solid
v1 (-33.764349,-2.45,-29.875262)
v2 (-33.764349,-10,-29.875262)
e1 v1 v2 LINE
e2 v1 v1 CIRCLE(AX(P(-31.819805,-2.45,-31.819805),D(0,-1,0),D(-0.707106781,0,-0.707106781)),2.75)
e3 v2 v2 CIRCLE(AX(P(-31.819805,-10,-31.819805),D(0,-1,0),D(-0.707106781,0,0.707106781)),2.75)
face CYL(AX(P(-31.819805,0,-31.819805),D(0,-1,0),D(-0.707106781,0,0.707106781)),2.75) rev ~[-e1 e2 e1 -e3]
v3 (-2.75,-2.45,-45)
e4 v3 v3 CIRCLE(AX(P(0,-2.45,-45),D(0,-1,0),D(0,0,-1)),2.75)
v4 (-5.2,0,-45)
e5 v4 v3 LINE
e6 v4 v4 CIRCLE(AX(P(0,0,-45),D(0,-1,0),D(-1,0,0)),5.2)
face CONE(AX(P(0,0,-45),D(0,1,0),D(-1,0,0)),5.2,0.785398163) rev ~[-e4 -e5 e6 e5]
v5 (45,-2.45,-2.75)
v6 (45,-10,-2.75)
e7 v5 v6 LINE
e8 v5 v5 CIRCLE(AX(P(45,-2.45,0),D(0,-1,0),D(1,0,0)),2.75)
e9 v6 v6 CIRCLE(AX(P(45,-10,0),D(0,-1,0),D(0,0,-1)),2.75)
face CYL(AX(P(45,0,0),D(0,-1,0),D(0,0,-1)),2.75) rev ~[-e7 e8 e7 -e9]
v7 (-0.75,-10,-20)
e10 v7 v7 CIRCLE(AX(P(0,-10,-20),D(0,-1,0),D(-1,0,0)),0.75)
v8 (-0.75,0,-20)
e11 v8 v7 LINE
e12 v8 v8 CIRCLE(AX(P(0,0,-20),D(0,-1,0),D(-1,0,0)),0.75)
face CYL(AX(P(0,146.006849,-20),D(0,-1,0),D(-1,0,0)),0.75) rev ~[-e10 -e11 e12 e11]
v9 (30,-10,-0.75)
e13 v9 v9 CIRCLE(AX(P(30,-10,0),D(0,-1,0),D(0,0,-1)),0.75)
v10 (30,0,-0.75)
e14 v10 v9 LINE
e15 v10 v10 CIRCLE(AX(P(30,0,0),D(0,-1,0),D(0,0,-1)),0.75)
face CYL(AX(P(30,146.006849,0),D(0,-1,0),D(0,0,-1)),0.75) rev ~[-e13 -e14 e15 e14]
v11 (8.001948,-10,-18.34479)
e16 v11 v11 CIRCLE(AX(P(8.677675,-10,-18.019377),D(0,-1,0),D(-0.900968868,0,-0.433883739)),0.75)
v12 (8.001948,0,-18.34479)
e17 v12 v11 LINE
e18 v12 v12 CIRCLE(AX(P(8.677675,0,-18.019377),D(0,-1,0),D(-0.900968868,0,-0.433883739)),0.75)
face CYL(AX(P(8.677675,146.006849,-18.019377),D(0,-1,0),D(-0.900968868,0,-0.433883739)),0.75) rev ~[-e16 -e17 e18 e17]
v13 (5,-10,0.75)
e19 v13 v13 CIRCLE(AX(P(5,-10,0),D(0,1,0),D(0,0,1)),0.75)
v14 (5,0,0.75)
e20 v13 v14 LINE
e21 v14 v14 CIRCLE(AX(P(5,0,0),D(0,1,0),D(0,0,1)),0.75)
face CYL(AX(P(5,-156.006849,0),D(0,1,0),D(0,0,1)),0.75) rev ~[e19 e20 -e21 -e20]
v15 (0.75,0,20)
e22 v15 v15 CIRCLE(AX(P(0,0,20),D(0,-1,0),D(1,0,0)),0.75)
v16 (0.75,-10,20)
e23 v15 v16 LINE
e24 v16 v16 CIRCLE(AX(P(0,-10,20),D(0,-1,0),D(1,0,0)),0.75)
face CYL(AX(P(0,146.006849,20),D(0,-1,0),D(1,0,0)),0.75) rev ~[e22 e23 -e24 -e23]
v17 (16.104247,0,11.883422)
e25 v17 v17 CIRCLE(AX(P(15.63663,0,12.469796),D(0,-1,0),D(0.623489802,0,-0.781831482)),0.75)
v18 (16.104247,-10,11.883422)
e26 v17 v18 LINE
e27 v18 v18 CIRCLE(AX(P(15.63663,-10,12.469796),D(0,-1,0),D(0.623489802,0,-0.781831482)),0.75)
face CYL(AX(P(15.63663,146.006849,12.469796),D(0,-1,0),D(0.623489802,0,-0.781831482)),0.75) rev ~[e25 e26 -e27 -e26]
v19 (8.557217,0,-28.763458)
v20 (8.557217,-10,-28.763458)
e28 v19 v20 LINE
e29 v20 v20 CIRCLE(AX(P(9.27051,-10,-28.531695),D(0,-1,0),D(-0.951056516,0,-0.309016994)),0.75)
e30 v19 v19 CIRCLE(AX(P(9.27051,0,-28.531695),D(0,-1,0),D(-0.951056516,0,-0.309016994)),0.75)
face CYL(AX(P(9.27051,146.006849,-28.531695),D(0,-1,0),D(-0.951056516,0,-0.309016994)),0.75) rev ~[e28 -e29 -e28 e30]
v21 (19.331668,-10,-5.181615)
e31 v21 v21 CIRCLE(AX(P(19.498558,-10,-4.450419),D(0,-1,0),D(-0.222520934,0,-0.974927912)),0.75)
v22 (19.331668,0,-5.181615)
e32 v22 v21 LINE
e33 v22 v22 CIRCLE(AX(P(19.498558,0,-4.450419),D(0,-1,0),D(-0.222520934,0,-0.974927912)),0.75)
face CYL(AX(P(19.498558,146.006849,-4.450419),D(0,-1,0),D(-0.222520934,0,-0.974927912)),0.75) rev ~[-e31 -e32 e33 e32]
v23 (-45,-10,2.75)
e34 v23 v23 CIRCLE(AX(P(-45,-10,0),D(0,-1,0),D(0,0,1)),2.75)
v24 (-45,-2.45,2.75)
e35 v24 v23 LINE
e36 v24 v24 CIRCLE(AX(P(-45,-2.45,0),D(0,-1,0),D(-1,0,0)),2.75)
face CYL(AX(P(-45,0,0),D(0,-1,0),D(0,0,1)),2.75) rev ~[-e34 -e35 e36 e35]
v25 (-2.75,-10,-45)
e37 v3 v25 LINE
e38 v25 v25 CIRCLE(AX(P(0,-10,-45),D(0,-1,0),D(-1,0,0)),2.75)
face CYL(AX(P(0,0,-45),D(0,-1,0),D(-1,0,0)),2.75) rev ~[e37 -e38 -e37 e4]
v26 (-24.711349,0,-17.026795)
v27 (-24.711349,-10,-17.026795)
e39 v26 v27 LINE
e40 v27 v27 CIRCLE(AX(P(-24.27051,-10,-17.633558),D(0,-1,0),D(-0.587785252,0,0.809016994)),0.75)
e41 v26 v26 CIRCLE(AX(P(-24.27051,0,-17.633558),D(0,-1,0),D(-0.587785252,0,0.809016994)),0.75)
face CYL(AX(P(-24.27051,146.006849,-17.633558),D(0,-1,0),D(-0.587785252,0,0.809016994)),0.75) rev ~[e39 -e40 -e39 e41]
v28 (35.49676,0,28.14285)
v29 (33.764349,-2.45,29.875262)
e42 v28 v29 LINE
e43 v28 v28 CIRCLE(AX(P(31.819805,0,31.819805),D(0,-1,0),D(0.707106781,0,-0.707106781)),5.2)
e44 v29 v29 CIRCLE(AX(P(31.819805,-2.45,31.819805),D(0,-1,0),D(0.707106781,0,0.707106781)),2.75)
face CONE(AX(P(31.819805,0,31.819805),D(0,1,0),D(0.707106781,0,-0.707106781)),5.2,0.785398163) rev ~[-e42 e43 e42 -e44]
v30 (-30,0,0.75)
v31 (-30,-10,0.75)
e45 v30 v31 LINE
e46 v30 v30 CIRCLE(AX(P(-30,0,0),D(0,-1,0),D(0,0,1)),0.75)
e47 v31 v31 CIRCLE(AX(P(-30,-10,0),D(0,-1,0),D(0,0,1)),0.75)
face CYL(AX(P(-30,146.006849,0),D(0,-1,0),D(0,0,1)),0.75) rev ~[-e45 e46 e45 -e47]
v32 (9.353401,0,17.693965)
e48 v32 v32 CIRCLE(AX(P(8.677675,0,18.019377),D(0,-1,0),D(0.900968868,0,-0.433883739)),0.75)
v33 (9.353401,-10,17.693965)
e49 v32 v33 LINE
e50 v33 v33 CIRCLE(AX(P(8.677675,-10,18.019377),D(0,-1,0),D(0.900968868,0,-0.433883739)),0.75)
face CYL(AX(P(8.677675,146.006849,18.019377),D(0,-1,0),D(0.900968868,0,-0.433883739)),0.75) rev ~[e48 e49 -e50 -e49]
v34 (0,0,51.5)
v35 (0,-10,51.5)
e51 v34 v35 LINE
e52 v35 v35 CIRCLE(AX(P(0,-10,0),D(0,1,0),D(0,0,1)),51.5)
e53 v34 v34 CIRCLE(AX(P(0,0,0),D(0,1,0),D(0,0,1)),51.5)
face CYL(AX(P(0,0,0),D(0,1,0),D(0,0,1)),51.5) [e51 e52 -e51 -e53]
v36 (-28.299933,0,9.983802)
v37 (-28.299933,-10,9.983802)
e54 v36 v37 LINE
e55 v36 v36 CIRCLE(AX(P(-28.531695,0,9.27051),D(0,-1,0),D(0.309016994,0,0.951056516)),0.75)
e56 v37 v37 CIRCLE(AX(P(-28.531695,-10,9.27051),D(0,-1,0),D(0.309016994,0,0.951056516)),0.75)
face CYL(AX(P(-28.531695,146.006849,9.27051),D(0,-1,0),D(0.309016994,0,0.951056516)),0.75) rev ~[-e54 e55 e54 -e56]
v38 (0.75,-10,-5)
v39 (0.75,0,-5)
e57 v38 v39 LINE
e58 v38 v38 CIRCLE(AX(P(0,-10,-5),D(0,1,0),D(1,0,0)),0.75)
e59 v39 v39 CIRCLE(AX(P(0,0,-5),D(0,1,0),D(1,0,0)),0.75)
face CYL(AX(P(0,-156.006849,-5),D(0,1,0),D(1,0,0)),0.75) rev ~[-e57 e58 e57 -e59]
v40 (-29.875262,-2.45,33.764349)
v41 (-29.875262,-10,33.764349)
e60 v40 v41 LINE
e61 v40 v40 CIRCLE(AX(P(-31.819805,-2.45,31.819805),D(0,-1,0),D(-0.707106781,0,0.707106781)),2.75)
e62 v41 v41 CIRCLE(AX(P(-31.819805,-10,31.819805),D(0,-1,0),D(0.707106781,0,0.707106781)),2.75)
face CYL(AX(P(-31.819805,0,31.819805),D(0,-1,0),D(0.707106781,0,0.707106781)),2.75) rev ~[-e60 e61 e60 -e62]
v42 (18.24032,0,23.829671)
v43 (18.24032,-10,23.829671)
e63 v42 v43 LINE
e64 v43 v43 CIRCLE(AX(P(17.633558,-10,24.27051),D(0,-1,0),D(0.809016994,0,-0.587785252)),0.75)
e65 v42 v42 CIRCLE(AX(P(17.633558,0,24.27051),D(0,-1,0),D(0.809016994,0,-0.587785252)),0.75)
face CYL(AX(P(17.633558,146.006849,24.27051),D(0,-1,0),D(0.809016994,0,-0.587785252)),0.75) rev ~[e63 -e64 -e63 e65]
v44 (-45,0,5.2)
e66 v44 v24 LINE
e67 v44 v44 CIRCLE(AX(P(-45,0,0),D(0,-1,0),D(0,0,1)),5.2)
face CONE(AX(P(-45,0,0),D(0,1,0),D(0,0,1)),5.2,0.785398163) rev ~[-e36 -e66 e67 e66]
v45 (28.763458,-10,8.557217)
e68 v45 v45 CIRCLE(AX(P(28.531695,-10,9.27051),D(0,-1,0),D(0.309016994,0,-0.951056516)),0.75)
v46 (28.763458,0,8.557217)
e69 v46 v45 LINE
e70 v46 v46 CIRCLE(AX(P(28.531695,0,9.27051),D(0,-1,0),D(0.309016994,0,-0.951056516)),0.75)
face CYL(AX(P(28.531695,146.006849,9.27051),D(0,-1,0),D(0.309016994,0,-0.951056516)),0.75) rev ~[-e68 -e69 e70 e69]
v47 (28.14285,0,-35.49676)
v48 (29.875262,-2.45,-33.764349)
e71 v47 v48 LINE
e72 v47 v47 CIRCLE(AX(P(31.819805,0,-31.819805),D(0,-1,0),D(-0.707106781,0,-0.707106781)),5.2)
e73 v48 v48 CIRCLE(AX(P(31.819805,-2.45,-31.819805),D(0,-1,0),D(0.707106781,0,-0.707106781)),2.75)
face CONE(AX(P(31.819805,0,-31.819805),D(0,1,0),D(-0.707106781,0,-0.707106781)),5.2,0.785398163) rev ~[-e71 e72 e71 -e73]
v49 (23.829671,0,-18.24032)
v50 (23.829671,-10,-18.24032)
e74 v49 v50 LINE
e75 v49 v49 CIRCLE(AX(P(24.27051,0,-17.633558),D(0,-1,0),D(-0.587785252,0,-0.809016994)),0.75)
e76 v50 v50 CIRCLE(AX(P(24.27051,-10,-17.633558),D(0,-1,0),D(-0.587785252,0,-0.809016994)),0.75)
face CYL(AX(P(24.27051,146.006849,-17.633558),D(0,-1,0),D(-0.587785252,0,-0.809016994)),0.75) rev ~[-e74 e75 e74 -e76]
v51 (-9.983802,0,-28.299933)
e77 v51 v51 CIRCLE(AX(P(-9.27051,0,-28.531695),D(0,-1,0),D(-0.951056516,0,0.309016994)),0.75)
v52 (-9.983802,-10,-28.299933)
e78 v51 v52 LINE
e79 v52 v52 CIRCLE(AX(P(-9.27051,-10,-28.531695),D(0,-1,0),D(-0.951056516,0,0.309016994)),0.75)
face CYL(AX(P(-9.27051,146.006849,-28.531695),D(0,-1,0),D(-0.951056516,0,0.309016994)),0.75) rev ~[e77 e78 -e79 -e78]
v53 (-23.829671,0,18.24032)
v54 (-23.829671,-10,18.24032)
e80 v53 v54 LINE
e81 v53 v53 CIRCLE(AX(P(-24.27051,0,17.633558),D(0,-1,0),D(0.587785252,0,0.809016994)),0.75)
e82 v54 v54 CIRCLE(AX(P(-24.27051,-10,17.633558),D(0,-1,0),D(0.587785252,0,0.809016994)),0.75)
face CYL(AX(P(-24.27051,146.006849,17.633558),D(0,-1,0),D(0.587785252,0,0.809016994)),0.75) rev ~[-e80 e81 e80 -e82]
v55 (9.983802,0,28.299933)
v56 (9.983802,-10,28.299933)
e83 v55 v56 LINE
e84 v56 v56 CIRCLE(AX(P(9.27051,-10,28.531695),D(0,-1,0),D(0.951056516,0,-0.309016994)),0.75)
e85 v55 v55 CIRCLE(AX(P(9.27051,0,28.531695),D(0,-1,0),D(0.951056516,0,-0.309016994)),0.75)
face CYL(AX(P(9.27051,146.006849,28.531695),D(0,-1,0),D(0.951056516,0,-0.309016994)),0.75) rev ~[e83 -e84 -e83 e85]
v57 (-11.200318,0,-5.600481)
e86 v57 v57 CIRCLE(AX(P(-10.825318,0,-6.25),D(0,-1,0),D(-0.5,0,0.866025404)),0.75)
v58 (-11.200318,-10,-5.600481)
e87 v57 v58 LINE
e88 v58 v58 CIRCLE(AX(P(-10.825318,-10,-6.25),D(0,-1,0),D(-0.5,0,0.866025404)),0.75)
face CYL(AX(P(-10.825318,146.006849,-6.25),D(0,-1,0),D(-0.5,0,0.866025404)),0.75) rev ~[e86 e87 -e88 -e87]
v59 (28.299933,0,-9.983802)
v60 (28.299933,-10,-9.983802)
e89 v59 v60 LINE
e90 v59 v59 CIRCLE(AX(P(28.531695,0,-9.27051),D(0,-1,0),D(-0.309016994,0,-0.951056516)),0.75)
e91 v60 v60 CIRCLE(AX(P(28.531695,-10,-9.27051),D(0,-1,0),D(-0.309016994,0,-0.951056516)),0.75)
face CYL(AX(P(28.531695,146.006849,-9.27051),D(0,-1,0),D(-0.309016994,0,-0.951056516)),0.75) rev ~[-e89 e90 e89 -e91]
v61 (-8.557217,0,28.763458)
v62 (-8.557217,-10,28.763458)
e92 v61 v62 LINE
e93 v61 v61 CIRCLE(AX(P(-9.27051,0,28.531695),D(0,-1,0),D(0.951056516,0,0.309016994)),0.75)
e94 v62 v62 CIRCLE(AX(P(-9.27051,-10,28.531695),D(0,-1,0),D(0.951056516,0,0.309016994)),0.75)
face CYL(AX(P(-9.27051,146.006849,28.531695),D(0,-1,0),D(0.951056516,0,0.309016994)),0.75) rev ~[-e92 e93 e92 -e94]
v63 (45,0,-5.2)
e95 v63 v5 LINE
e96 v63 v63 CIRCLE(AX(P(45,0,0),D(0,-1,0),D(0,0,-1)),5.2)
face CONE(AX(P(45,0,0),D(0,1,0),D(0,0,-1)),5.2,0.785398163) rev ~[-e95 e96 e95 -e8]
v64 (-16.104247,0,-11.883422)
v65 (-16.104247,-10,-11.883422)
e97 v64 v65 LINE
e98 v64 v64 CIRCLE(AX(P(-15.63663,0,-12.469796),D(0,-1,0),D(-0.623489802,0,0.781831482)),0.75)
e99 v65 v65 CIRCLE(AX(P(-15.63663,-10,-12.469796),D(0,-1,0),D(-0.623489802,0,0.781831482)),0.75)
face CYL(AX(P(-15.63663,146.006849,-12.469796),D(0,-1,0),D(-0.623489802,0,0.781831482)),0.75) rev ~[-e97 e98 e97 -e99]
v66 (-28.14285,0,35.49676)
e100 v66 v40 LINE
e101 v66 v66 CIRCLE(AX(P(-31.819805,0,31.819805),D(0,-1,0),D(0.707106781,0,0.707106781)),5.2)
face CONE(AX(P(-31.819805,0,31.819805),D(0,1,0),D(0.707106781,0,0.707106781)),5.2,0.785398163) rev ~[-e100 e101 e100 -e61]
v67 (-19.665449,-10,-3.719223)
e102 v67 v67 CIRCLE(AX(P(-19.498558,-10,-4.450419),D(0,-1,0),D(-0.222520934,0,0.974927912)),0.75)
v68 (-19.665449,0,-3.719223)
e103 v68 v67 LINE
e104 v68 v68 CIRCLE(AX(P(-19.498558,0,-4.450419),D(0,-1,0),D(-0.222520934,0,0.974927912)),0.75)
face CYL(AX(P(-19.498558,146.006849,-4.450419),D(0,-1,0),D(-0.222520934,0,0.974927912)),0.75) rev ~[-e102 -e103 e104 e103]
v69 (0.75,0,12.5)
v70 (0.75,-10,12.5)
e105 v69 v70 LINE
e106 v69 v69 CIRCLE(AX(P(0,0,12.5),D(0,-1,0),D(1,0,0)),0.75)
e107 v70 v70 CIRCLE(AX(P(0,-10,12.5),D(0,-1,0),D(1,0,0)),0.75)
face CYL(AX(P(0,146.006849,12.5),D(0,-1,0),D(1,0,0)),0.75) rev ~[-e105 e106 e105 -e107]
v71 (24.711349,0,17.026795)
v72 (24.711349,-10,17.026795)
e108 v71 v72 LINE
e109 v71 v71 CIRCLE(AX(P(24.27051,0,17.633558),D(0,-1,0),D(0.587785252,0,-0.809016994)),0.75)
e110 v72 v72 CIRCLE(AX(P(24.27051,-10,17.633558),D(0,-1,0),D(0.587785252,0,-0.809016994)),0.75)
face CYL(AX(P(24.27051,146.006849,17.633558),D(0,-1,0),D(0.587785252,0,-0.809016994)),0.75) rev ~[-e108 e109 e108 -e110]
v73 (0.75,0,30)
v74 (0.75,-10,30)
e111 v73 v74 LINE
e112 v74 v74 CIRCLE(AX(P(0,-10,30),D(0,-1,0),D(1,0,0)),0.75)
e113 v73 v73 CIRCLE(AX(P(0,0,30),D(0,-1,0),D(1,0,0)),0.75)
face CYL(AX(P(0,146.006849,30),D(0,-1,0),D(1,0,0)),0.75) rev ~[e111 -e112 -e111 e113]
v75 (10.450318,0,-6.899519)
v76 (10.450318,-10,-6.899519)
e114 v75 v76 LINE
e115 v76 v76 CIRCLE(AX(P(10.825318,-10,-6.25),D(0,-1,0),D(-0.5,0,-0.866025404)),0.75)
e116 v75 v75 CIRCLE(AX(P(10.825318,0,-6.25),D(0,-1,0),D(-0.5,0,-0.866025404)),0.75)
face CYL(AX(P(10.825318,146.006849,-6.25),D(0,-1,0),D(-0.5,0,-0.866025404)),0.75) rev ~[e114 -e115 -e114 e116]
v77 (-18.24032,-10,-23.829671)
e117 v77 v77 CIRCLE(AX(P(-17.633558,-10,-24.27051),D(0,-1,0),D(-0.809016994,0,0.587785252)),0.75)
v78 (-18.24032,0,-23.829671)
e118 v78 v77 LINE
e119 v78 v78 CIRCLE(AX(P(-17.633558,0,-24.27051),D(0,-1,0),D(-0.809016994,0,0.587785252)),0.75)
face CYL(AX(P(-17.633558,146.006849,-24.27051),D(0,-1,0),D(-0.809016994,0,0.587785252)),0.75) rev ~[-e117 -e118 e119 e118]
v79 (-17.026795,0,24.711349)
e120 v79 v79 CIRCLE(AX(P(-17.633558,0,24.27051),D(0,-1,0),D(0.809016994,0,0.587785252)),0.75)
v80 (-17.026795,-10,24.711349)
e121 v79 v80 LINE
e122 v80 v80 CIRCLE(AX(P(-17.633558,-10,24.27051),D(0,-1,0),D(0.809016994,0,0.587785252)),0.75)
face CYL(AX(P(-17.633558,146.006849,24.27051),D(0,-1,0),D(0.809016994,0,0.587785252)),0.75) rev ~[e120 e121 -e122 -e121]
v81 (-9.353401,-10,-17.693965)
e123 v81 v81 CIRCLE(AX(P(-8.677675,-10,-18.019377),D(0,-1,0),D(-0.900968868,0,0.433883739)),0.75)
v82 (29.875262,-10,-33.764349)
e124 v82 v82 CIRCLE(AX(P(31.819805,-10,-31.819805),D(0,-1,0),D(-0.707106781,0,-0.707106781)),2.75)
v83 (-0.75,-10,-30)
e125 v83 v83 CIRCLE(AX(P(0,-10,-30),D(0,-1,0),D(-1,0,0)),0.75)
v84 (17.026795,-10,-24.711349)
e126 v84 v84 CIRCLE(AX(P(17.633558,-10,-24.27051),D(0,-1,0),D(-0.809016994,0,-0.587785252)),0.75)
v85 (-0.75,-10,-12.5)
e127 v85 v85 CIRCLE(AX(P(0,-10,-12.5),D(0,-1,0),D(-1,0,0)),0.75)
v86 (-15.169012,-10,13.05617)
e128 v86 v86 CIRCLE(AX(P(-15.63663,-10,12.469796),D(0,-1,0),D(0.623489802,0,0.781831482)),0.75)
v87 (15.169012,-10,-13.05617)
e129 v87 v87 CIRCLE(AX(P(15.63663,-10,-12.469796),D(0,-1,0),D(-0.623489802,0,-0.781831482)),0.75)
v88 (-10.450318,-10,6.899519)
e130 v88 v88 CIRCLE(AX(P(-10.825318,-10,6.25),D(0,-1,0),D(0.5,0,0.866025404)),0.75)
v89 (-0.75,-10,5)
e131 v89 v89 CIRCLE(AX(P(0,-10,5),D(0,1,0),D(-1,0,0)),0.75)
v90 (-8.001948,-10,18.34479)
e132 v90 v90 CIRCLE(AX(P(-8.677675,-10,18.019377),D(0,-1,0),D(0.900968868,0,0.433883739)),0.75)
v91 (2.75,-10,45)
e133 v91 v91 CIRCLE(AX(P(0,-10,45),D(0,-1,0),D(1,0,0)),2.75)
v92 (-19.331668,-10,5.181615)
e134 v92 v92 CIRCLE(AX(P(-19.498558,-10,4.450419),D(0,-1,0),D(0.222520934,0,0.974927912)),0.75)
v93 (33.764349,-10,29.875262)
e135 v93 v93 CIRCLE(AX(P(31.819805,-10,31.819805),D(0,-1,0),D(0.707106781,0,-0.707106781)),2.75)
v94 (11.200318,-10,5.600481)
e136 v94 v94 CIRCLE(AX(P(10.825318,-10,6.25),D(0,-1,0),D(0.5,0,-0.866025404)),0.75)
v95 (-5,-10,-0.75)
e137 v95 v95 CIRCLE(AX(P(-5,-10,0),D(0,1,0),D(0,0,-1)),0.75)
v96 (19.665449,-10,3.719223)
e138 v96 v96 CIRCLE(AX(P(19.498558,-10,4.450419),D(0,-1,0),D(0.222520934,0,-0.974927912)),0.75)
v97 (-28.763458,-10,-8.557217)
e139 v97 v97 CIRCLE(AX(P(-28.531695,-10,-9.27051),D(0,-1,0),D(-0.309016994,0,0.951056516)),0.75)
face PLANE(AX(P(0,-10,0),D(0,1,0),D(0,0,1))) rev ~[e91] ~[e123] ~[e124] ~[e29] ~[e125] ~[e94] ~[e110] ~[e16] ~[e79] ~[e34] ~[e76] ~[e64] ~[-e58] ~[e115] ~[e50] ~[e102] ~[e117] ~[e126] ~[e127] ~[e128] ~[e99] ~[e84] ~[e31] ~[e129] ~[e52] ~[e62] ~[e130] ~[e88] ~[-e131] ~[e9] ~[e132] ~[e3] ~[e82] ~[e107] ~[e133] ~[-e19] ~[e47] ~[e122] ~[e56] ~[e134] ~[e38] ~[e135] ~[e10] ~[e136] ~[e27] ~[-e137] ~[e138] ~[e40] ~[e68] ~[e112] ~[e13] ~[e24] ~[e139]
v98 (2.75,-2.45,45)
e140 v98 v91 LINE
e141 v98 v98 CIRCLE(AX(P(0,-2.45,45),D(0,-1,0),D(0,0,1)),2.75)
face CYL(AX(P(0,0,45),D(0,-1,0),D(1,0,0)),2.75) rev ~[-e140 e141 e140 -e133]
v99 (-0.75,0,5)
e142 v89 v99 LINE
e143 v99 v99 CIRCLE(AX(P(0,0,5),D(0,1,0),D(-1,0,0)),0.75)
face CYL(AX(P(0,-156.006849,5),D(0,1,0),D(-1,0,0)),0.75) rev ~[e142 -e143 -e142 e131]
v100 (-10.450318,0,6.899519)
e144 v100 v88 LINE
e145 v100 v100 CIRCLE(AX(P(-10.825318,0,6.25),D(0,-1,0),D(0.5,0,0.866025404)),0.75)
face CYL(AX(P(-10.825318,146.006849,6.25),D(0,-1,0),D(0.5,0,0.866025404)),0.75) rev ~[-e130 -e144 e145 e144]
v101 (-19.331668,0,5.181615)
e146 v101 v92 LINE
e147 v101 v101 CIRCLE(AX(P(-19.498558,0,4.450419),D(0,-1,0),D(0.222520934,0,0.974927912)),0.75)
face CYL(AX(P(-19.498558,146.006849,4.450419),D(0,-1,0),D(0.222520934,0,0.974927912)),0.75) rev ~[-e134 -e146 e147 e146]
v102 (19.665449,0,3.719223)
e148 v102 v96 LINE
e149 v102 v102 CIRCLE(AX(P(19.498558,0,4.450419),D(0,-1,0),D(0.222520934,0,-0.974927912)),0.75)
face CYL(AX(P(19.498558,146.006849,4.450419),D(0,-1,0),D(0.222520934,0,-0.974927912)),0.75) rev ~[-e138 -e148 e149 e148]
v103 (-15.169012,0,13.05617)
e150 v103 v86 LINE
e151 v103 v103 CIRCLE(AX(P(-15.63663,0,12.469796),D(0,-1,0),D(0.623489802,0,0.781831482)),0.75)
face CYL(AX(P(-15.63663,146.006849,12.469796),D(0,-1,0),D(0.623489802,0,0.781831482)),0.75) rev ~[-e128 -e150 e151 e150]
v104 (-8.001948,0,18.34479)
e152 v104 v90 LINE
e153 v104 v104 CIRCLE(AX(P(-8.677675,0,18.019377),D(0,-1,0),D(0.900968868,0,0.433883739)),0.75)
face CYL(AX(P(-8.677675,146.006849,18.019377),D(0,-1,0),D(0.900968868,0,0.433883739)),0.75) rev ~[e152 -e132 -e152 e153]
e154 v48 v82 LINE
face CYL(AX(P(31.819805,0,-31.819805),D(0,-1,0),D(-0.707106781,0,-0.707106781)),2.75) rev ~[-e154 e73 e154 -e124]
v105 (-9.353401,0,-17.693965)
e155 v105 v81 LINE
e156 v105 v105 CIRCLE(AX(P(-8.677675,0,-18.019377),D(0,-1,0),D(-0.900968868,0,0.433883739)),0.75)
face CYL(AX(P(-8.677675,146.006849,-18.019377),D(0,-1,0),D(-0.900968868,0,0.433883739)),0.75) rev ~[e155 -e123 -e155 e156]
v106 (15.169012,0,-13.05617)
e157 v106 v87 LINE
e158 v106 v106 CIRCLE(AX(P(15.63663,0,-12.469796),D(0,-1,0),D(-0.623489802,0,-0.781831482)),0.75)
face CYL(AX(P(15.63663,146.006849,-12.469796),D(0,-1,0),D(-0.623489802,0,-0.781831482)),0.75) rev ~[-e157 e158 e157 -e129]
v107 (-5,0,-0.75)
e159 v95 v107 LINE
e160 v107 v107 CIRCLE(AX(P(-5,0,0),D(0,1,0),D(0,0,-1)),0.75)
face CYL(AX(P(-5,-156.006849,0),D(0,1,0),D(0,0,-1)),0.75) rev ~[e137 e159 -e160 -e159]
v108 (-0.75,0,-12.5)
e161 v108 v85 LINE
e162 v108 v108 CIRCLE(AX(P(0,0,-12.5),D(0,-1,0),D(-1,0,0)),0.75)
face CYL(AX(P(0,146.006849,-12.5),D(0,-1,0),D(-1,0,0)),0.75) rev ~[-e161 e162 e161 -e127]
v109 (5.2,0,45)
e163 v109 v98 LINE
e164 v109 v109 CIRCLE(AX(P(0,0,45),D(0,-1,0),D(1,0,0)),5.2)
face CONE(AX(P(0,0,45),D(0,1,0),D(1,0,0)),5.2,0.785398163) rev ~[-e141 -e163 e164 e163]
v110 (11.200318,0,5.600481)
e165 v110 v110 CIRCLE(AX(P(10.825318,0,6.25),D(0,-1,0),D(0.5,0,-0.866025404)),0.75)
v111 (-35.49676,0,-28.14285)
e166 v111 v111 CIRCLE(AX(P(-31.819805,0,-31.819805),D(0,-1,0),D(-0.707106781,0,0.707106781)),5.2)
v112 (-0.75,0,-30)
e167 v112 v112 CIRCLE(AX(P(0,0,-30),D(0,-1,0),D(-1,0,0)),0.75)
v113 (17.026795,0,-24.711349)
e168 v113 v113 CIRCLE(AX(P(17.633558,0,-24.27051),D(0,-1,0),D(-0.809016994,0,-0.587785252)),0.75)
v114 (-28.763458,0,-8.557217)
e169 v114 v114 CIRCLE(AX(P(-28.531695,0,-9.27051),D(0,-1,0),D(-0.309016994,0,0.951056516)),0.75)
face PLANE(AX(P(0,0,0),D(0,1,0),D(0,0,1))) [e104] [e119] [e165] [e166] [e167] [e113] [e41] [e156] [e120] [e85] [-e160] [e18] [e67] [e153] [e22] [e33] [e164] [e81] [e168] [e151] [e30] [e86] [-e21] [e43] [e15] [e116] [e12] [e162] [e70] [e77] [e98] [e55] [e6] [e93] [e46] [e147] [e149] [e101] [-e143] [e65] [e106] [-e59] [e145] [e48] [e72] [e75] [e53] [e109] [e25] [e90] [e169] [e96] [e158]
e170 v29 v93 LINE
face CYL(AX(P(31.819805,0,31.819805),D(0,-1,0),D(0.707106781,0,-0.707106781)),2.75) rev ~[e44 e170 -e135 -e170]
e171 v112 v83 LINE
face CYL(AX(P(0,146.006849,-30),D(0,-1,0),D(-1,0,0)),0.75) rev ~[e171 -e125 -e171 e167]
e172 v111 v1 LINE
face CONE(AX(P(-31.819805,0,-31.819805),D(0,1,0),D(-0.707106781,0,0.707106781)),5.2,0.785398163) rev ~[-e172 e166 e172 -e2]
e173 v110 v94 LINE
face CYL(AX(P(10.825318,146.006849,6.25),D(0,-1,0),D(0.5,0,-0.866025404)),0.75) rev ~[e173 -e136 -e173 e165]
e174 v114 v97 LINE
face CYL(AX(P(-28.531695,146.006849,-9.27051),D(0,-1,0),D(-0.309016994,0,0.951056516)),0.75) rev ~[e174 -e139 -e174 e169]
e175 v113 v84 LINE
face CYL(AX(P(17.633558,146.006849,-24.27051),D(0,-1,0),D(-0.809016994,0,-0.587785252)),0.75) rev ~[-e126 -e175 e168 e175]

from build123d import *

# Parameters (mm, degrees)
SKETCH1_R                                       = 51.5
BOSS_EXTRUDE1_DEPTH                             = 10
CSK_FOR_M5_FLAT_HEAD_MACHINE_SCREW1_D           = 5.5
CSK_FOR_M5_FLAT_HEAD_MACHINE_SCREW1_CSINK_D     = 10.4
CSK_FOR_M5_FLAT_HEAD_MACHINE_SCREW1_CSINK_ANGLE = 90
CIRPATTERN1_COUNT                               = 8
F_1_5_1_5_DIAMETER_HOLE9_D                      = 1.5
F_1_5_1_5_DIAMETER_HOLE4_D                      = 1.5
F_1_5_1_5_DIAMETER_HOLE5_D                      = 1.5
F_1_5_1_5_DIAMETER_HOLE8_D                      = 1.5
CIRPATTERN2_COUNT                               = 20
CIRPATTERN3_COUNT                               = 14
CIRPATTERN7_COUNT                               = 6
CIRPATTERN8_COUNT                               = 4


with BuildPart() as part:
    # Sketch1 → Boss-Extrude1 (new body)
    with BuildSketch(Plane(origin=(0, 0, 0), x_dir=(1, 0, 0), z_dir=(0, 1, 0))):
        Circle(SKETCH1_R)
    extrude(amount=-BOSS_EXTRUDE1_DEPTH)

    # CSK for M5 Flat Head Machine Screw1 (through all)
    with Locations(Plane(origin=(0, 0, 0), x_dir=(1, 0, 0), z_dir=(0, 1, 0))):
        with Locations((0, 45)):
            csk_for_m5_flat_head_machine_screw1 = CounterSinkHole(CSK_FOR_M5_FLAT_HEAD_MACHINE_SCREW1_D / 2, CSK_FOR_M5_FLAT_HEAD_MACHINE_SCREW1_CSINK_D / 2, counter_sink_angle=CSK_FOR_M5_FLAT_HEAD_MACHINE_SCREW1_CSINK_ANGLE)

    # CirPattern1: CSK for M5 Flat Head Machine Screw1 ×8 about axis
    cirpattern1_axis = Axis((0, -10, 0), (0, 1, 0))
    for i in range(1, CIRPATTERN1_COUNT):
        add(csk_for_m5_flat_head_machine_screw1.rotate(cirpattern1_axis, i * 360 / CIRPATTERN1_COUNT), mode=Mode.SUBTRACT)

    # Ø1.5 (1.5) Diameter Hole9 (through all)
    with Locations(Plane(origin=(0, -10, 0), x_dir=(-1, 0, 0), z_dir=(0, -1, 0))):
        with Locations((0, 5)):
            f_1_5_1_5_diameter_hole9 = Hole(F_1_5_1_5_DIAMETER_HOLE9_D / 2)

    # Ø1.5 (1.5) Diameter Hole4 (through all)
    with Locations(Plane(origin=(0, 0, 0), x_dir=(1, 0, 0), z_dir=(0, 1, 0))):
        with Locations((0, 20)):
            f_1_5_1_5_diameter_hole4 = Hole(F_1_5_1_5_DIAMETER_HOLE4_D / 2)

    # Ø1.5 (1.5) Diameter Hole5 (through all)
    with Locations(Plane(origin=(0, 0, 0), x_dir=(1, 0, 0), z_dir=(0, 1, 0))):
        with Locations((0, 30)):
            f_1_5_1_5_diameter_hole5 = Hole(F_1_5_1_5_DIAMETER_HOLE5_D / 2)

    # Ø1.5 (1.5) Diameter Hole8 (through all)
    with Locations(Plane(origin=(0, 0, 0), x_dir=(1, 0, 0), z_dir=(0, 1, 0))):
        with Locations((0, 12.5)):
            f_1_5_1_5_diameter_hole8 = Hole(F_1_5_1_5_DIAMETER_HOLE8_D / 2)

    # CirPattern2: Ø1.5 (1.5) Diameter Hole5 ×20 about axis
    cirpattern2_axis = Axis((0, -10, 0), (0, 1, 0))
    for i in range(1, CIRPATTERN2_COUNT):
        add(f_1_5_1_5_diameter_hole5.rotate(cirpattern2_axis, i * 360 / CIRPATTERN2_COUNT), mode=Mode.SUBTRACT)

    # CirPattern3: Ø1.5 (1.5) Diameter Hole4 ×14 about axis
    cirpattern3_axis = Axis((0, -10, 0), (0, 1, 0))
    for i in range(1, CIRPATTERN3_COUNT):
        add(f_1_5_1_5_diameter_hole4.rotate(cirpattern3_axis, i * 360 / CIRPATTERN3_COUNT), mode=Mode.SUBTRACT)

    # CirPattern7: Ø1.5 (1.5) Diameter Hole8 ×6 about axis
    cirpattern7_axis = Axis((0, -10, 0), (0, 1, 0))
    for i in range(1, CIRPATTERN7_COUNT):
        add(f_1_5_1_5_diameter_hole8.rotate(cirpattern7_axis, i * 360 / CIRPATTERN7_COUNT), mode=Mode.SUBTRACT)

    # CirPattern8: Ø1.5 (1.5) Diameter Hole9 ×4 about axis
    cirpattern8_axis = Axis((0, -10, 0), (0, 1, 0))
    for i in range(1, CIRPATTERN8_COUNT):
        add(f_1_5_1_5_diameter_hole9.rotate(cirpattern8_axis, i * 360 / CIRPATTERN8_COUNT), mode=Mode.SUBTRACT)


solid = part.part
